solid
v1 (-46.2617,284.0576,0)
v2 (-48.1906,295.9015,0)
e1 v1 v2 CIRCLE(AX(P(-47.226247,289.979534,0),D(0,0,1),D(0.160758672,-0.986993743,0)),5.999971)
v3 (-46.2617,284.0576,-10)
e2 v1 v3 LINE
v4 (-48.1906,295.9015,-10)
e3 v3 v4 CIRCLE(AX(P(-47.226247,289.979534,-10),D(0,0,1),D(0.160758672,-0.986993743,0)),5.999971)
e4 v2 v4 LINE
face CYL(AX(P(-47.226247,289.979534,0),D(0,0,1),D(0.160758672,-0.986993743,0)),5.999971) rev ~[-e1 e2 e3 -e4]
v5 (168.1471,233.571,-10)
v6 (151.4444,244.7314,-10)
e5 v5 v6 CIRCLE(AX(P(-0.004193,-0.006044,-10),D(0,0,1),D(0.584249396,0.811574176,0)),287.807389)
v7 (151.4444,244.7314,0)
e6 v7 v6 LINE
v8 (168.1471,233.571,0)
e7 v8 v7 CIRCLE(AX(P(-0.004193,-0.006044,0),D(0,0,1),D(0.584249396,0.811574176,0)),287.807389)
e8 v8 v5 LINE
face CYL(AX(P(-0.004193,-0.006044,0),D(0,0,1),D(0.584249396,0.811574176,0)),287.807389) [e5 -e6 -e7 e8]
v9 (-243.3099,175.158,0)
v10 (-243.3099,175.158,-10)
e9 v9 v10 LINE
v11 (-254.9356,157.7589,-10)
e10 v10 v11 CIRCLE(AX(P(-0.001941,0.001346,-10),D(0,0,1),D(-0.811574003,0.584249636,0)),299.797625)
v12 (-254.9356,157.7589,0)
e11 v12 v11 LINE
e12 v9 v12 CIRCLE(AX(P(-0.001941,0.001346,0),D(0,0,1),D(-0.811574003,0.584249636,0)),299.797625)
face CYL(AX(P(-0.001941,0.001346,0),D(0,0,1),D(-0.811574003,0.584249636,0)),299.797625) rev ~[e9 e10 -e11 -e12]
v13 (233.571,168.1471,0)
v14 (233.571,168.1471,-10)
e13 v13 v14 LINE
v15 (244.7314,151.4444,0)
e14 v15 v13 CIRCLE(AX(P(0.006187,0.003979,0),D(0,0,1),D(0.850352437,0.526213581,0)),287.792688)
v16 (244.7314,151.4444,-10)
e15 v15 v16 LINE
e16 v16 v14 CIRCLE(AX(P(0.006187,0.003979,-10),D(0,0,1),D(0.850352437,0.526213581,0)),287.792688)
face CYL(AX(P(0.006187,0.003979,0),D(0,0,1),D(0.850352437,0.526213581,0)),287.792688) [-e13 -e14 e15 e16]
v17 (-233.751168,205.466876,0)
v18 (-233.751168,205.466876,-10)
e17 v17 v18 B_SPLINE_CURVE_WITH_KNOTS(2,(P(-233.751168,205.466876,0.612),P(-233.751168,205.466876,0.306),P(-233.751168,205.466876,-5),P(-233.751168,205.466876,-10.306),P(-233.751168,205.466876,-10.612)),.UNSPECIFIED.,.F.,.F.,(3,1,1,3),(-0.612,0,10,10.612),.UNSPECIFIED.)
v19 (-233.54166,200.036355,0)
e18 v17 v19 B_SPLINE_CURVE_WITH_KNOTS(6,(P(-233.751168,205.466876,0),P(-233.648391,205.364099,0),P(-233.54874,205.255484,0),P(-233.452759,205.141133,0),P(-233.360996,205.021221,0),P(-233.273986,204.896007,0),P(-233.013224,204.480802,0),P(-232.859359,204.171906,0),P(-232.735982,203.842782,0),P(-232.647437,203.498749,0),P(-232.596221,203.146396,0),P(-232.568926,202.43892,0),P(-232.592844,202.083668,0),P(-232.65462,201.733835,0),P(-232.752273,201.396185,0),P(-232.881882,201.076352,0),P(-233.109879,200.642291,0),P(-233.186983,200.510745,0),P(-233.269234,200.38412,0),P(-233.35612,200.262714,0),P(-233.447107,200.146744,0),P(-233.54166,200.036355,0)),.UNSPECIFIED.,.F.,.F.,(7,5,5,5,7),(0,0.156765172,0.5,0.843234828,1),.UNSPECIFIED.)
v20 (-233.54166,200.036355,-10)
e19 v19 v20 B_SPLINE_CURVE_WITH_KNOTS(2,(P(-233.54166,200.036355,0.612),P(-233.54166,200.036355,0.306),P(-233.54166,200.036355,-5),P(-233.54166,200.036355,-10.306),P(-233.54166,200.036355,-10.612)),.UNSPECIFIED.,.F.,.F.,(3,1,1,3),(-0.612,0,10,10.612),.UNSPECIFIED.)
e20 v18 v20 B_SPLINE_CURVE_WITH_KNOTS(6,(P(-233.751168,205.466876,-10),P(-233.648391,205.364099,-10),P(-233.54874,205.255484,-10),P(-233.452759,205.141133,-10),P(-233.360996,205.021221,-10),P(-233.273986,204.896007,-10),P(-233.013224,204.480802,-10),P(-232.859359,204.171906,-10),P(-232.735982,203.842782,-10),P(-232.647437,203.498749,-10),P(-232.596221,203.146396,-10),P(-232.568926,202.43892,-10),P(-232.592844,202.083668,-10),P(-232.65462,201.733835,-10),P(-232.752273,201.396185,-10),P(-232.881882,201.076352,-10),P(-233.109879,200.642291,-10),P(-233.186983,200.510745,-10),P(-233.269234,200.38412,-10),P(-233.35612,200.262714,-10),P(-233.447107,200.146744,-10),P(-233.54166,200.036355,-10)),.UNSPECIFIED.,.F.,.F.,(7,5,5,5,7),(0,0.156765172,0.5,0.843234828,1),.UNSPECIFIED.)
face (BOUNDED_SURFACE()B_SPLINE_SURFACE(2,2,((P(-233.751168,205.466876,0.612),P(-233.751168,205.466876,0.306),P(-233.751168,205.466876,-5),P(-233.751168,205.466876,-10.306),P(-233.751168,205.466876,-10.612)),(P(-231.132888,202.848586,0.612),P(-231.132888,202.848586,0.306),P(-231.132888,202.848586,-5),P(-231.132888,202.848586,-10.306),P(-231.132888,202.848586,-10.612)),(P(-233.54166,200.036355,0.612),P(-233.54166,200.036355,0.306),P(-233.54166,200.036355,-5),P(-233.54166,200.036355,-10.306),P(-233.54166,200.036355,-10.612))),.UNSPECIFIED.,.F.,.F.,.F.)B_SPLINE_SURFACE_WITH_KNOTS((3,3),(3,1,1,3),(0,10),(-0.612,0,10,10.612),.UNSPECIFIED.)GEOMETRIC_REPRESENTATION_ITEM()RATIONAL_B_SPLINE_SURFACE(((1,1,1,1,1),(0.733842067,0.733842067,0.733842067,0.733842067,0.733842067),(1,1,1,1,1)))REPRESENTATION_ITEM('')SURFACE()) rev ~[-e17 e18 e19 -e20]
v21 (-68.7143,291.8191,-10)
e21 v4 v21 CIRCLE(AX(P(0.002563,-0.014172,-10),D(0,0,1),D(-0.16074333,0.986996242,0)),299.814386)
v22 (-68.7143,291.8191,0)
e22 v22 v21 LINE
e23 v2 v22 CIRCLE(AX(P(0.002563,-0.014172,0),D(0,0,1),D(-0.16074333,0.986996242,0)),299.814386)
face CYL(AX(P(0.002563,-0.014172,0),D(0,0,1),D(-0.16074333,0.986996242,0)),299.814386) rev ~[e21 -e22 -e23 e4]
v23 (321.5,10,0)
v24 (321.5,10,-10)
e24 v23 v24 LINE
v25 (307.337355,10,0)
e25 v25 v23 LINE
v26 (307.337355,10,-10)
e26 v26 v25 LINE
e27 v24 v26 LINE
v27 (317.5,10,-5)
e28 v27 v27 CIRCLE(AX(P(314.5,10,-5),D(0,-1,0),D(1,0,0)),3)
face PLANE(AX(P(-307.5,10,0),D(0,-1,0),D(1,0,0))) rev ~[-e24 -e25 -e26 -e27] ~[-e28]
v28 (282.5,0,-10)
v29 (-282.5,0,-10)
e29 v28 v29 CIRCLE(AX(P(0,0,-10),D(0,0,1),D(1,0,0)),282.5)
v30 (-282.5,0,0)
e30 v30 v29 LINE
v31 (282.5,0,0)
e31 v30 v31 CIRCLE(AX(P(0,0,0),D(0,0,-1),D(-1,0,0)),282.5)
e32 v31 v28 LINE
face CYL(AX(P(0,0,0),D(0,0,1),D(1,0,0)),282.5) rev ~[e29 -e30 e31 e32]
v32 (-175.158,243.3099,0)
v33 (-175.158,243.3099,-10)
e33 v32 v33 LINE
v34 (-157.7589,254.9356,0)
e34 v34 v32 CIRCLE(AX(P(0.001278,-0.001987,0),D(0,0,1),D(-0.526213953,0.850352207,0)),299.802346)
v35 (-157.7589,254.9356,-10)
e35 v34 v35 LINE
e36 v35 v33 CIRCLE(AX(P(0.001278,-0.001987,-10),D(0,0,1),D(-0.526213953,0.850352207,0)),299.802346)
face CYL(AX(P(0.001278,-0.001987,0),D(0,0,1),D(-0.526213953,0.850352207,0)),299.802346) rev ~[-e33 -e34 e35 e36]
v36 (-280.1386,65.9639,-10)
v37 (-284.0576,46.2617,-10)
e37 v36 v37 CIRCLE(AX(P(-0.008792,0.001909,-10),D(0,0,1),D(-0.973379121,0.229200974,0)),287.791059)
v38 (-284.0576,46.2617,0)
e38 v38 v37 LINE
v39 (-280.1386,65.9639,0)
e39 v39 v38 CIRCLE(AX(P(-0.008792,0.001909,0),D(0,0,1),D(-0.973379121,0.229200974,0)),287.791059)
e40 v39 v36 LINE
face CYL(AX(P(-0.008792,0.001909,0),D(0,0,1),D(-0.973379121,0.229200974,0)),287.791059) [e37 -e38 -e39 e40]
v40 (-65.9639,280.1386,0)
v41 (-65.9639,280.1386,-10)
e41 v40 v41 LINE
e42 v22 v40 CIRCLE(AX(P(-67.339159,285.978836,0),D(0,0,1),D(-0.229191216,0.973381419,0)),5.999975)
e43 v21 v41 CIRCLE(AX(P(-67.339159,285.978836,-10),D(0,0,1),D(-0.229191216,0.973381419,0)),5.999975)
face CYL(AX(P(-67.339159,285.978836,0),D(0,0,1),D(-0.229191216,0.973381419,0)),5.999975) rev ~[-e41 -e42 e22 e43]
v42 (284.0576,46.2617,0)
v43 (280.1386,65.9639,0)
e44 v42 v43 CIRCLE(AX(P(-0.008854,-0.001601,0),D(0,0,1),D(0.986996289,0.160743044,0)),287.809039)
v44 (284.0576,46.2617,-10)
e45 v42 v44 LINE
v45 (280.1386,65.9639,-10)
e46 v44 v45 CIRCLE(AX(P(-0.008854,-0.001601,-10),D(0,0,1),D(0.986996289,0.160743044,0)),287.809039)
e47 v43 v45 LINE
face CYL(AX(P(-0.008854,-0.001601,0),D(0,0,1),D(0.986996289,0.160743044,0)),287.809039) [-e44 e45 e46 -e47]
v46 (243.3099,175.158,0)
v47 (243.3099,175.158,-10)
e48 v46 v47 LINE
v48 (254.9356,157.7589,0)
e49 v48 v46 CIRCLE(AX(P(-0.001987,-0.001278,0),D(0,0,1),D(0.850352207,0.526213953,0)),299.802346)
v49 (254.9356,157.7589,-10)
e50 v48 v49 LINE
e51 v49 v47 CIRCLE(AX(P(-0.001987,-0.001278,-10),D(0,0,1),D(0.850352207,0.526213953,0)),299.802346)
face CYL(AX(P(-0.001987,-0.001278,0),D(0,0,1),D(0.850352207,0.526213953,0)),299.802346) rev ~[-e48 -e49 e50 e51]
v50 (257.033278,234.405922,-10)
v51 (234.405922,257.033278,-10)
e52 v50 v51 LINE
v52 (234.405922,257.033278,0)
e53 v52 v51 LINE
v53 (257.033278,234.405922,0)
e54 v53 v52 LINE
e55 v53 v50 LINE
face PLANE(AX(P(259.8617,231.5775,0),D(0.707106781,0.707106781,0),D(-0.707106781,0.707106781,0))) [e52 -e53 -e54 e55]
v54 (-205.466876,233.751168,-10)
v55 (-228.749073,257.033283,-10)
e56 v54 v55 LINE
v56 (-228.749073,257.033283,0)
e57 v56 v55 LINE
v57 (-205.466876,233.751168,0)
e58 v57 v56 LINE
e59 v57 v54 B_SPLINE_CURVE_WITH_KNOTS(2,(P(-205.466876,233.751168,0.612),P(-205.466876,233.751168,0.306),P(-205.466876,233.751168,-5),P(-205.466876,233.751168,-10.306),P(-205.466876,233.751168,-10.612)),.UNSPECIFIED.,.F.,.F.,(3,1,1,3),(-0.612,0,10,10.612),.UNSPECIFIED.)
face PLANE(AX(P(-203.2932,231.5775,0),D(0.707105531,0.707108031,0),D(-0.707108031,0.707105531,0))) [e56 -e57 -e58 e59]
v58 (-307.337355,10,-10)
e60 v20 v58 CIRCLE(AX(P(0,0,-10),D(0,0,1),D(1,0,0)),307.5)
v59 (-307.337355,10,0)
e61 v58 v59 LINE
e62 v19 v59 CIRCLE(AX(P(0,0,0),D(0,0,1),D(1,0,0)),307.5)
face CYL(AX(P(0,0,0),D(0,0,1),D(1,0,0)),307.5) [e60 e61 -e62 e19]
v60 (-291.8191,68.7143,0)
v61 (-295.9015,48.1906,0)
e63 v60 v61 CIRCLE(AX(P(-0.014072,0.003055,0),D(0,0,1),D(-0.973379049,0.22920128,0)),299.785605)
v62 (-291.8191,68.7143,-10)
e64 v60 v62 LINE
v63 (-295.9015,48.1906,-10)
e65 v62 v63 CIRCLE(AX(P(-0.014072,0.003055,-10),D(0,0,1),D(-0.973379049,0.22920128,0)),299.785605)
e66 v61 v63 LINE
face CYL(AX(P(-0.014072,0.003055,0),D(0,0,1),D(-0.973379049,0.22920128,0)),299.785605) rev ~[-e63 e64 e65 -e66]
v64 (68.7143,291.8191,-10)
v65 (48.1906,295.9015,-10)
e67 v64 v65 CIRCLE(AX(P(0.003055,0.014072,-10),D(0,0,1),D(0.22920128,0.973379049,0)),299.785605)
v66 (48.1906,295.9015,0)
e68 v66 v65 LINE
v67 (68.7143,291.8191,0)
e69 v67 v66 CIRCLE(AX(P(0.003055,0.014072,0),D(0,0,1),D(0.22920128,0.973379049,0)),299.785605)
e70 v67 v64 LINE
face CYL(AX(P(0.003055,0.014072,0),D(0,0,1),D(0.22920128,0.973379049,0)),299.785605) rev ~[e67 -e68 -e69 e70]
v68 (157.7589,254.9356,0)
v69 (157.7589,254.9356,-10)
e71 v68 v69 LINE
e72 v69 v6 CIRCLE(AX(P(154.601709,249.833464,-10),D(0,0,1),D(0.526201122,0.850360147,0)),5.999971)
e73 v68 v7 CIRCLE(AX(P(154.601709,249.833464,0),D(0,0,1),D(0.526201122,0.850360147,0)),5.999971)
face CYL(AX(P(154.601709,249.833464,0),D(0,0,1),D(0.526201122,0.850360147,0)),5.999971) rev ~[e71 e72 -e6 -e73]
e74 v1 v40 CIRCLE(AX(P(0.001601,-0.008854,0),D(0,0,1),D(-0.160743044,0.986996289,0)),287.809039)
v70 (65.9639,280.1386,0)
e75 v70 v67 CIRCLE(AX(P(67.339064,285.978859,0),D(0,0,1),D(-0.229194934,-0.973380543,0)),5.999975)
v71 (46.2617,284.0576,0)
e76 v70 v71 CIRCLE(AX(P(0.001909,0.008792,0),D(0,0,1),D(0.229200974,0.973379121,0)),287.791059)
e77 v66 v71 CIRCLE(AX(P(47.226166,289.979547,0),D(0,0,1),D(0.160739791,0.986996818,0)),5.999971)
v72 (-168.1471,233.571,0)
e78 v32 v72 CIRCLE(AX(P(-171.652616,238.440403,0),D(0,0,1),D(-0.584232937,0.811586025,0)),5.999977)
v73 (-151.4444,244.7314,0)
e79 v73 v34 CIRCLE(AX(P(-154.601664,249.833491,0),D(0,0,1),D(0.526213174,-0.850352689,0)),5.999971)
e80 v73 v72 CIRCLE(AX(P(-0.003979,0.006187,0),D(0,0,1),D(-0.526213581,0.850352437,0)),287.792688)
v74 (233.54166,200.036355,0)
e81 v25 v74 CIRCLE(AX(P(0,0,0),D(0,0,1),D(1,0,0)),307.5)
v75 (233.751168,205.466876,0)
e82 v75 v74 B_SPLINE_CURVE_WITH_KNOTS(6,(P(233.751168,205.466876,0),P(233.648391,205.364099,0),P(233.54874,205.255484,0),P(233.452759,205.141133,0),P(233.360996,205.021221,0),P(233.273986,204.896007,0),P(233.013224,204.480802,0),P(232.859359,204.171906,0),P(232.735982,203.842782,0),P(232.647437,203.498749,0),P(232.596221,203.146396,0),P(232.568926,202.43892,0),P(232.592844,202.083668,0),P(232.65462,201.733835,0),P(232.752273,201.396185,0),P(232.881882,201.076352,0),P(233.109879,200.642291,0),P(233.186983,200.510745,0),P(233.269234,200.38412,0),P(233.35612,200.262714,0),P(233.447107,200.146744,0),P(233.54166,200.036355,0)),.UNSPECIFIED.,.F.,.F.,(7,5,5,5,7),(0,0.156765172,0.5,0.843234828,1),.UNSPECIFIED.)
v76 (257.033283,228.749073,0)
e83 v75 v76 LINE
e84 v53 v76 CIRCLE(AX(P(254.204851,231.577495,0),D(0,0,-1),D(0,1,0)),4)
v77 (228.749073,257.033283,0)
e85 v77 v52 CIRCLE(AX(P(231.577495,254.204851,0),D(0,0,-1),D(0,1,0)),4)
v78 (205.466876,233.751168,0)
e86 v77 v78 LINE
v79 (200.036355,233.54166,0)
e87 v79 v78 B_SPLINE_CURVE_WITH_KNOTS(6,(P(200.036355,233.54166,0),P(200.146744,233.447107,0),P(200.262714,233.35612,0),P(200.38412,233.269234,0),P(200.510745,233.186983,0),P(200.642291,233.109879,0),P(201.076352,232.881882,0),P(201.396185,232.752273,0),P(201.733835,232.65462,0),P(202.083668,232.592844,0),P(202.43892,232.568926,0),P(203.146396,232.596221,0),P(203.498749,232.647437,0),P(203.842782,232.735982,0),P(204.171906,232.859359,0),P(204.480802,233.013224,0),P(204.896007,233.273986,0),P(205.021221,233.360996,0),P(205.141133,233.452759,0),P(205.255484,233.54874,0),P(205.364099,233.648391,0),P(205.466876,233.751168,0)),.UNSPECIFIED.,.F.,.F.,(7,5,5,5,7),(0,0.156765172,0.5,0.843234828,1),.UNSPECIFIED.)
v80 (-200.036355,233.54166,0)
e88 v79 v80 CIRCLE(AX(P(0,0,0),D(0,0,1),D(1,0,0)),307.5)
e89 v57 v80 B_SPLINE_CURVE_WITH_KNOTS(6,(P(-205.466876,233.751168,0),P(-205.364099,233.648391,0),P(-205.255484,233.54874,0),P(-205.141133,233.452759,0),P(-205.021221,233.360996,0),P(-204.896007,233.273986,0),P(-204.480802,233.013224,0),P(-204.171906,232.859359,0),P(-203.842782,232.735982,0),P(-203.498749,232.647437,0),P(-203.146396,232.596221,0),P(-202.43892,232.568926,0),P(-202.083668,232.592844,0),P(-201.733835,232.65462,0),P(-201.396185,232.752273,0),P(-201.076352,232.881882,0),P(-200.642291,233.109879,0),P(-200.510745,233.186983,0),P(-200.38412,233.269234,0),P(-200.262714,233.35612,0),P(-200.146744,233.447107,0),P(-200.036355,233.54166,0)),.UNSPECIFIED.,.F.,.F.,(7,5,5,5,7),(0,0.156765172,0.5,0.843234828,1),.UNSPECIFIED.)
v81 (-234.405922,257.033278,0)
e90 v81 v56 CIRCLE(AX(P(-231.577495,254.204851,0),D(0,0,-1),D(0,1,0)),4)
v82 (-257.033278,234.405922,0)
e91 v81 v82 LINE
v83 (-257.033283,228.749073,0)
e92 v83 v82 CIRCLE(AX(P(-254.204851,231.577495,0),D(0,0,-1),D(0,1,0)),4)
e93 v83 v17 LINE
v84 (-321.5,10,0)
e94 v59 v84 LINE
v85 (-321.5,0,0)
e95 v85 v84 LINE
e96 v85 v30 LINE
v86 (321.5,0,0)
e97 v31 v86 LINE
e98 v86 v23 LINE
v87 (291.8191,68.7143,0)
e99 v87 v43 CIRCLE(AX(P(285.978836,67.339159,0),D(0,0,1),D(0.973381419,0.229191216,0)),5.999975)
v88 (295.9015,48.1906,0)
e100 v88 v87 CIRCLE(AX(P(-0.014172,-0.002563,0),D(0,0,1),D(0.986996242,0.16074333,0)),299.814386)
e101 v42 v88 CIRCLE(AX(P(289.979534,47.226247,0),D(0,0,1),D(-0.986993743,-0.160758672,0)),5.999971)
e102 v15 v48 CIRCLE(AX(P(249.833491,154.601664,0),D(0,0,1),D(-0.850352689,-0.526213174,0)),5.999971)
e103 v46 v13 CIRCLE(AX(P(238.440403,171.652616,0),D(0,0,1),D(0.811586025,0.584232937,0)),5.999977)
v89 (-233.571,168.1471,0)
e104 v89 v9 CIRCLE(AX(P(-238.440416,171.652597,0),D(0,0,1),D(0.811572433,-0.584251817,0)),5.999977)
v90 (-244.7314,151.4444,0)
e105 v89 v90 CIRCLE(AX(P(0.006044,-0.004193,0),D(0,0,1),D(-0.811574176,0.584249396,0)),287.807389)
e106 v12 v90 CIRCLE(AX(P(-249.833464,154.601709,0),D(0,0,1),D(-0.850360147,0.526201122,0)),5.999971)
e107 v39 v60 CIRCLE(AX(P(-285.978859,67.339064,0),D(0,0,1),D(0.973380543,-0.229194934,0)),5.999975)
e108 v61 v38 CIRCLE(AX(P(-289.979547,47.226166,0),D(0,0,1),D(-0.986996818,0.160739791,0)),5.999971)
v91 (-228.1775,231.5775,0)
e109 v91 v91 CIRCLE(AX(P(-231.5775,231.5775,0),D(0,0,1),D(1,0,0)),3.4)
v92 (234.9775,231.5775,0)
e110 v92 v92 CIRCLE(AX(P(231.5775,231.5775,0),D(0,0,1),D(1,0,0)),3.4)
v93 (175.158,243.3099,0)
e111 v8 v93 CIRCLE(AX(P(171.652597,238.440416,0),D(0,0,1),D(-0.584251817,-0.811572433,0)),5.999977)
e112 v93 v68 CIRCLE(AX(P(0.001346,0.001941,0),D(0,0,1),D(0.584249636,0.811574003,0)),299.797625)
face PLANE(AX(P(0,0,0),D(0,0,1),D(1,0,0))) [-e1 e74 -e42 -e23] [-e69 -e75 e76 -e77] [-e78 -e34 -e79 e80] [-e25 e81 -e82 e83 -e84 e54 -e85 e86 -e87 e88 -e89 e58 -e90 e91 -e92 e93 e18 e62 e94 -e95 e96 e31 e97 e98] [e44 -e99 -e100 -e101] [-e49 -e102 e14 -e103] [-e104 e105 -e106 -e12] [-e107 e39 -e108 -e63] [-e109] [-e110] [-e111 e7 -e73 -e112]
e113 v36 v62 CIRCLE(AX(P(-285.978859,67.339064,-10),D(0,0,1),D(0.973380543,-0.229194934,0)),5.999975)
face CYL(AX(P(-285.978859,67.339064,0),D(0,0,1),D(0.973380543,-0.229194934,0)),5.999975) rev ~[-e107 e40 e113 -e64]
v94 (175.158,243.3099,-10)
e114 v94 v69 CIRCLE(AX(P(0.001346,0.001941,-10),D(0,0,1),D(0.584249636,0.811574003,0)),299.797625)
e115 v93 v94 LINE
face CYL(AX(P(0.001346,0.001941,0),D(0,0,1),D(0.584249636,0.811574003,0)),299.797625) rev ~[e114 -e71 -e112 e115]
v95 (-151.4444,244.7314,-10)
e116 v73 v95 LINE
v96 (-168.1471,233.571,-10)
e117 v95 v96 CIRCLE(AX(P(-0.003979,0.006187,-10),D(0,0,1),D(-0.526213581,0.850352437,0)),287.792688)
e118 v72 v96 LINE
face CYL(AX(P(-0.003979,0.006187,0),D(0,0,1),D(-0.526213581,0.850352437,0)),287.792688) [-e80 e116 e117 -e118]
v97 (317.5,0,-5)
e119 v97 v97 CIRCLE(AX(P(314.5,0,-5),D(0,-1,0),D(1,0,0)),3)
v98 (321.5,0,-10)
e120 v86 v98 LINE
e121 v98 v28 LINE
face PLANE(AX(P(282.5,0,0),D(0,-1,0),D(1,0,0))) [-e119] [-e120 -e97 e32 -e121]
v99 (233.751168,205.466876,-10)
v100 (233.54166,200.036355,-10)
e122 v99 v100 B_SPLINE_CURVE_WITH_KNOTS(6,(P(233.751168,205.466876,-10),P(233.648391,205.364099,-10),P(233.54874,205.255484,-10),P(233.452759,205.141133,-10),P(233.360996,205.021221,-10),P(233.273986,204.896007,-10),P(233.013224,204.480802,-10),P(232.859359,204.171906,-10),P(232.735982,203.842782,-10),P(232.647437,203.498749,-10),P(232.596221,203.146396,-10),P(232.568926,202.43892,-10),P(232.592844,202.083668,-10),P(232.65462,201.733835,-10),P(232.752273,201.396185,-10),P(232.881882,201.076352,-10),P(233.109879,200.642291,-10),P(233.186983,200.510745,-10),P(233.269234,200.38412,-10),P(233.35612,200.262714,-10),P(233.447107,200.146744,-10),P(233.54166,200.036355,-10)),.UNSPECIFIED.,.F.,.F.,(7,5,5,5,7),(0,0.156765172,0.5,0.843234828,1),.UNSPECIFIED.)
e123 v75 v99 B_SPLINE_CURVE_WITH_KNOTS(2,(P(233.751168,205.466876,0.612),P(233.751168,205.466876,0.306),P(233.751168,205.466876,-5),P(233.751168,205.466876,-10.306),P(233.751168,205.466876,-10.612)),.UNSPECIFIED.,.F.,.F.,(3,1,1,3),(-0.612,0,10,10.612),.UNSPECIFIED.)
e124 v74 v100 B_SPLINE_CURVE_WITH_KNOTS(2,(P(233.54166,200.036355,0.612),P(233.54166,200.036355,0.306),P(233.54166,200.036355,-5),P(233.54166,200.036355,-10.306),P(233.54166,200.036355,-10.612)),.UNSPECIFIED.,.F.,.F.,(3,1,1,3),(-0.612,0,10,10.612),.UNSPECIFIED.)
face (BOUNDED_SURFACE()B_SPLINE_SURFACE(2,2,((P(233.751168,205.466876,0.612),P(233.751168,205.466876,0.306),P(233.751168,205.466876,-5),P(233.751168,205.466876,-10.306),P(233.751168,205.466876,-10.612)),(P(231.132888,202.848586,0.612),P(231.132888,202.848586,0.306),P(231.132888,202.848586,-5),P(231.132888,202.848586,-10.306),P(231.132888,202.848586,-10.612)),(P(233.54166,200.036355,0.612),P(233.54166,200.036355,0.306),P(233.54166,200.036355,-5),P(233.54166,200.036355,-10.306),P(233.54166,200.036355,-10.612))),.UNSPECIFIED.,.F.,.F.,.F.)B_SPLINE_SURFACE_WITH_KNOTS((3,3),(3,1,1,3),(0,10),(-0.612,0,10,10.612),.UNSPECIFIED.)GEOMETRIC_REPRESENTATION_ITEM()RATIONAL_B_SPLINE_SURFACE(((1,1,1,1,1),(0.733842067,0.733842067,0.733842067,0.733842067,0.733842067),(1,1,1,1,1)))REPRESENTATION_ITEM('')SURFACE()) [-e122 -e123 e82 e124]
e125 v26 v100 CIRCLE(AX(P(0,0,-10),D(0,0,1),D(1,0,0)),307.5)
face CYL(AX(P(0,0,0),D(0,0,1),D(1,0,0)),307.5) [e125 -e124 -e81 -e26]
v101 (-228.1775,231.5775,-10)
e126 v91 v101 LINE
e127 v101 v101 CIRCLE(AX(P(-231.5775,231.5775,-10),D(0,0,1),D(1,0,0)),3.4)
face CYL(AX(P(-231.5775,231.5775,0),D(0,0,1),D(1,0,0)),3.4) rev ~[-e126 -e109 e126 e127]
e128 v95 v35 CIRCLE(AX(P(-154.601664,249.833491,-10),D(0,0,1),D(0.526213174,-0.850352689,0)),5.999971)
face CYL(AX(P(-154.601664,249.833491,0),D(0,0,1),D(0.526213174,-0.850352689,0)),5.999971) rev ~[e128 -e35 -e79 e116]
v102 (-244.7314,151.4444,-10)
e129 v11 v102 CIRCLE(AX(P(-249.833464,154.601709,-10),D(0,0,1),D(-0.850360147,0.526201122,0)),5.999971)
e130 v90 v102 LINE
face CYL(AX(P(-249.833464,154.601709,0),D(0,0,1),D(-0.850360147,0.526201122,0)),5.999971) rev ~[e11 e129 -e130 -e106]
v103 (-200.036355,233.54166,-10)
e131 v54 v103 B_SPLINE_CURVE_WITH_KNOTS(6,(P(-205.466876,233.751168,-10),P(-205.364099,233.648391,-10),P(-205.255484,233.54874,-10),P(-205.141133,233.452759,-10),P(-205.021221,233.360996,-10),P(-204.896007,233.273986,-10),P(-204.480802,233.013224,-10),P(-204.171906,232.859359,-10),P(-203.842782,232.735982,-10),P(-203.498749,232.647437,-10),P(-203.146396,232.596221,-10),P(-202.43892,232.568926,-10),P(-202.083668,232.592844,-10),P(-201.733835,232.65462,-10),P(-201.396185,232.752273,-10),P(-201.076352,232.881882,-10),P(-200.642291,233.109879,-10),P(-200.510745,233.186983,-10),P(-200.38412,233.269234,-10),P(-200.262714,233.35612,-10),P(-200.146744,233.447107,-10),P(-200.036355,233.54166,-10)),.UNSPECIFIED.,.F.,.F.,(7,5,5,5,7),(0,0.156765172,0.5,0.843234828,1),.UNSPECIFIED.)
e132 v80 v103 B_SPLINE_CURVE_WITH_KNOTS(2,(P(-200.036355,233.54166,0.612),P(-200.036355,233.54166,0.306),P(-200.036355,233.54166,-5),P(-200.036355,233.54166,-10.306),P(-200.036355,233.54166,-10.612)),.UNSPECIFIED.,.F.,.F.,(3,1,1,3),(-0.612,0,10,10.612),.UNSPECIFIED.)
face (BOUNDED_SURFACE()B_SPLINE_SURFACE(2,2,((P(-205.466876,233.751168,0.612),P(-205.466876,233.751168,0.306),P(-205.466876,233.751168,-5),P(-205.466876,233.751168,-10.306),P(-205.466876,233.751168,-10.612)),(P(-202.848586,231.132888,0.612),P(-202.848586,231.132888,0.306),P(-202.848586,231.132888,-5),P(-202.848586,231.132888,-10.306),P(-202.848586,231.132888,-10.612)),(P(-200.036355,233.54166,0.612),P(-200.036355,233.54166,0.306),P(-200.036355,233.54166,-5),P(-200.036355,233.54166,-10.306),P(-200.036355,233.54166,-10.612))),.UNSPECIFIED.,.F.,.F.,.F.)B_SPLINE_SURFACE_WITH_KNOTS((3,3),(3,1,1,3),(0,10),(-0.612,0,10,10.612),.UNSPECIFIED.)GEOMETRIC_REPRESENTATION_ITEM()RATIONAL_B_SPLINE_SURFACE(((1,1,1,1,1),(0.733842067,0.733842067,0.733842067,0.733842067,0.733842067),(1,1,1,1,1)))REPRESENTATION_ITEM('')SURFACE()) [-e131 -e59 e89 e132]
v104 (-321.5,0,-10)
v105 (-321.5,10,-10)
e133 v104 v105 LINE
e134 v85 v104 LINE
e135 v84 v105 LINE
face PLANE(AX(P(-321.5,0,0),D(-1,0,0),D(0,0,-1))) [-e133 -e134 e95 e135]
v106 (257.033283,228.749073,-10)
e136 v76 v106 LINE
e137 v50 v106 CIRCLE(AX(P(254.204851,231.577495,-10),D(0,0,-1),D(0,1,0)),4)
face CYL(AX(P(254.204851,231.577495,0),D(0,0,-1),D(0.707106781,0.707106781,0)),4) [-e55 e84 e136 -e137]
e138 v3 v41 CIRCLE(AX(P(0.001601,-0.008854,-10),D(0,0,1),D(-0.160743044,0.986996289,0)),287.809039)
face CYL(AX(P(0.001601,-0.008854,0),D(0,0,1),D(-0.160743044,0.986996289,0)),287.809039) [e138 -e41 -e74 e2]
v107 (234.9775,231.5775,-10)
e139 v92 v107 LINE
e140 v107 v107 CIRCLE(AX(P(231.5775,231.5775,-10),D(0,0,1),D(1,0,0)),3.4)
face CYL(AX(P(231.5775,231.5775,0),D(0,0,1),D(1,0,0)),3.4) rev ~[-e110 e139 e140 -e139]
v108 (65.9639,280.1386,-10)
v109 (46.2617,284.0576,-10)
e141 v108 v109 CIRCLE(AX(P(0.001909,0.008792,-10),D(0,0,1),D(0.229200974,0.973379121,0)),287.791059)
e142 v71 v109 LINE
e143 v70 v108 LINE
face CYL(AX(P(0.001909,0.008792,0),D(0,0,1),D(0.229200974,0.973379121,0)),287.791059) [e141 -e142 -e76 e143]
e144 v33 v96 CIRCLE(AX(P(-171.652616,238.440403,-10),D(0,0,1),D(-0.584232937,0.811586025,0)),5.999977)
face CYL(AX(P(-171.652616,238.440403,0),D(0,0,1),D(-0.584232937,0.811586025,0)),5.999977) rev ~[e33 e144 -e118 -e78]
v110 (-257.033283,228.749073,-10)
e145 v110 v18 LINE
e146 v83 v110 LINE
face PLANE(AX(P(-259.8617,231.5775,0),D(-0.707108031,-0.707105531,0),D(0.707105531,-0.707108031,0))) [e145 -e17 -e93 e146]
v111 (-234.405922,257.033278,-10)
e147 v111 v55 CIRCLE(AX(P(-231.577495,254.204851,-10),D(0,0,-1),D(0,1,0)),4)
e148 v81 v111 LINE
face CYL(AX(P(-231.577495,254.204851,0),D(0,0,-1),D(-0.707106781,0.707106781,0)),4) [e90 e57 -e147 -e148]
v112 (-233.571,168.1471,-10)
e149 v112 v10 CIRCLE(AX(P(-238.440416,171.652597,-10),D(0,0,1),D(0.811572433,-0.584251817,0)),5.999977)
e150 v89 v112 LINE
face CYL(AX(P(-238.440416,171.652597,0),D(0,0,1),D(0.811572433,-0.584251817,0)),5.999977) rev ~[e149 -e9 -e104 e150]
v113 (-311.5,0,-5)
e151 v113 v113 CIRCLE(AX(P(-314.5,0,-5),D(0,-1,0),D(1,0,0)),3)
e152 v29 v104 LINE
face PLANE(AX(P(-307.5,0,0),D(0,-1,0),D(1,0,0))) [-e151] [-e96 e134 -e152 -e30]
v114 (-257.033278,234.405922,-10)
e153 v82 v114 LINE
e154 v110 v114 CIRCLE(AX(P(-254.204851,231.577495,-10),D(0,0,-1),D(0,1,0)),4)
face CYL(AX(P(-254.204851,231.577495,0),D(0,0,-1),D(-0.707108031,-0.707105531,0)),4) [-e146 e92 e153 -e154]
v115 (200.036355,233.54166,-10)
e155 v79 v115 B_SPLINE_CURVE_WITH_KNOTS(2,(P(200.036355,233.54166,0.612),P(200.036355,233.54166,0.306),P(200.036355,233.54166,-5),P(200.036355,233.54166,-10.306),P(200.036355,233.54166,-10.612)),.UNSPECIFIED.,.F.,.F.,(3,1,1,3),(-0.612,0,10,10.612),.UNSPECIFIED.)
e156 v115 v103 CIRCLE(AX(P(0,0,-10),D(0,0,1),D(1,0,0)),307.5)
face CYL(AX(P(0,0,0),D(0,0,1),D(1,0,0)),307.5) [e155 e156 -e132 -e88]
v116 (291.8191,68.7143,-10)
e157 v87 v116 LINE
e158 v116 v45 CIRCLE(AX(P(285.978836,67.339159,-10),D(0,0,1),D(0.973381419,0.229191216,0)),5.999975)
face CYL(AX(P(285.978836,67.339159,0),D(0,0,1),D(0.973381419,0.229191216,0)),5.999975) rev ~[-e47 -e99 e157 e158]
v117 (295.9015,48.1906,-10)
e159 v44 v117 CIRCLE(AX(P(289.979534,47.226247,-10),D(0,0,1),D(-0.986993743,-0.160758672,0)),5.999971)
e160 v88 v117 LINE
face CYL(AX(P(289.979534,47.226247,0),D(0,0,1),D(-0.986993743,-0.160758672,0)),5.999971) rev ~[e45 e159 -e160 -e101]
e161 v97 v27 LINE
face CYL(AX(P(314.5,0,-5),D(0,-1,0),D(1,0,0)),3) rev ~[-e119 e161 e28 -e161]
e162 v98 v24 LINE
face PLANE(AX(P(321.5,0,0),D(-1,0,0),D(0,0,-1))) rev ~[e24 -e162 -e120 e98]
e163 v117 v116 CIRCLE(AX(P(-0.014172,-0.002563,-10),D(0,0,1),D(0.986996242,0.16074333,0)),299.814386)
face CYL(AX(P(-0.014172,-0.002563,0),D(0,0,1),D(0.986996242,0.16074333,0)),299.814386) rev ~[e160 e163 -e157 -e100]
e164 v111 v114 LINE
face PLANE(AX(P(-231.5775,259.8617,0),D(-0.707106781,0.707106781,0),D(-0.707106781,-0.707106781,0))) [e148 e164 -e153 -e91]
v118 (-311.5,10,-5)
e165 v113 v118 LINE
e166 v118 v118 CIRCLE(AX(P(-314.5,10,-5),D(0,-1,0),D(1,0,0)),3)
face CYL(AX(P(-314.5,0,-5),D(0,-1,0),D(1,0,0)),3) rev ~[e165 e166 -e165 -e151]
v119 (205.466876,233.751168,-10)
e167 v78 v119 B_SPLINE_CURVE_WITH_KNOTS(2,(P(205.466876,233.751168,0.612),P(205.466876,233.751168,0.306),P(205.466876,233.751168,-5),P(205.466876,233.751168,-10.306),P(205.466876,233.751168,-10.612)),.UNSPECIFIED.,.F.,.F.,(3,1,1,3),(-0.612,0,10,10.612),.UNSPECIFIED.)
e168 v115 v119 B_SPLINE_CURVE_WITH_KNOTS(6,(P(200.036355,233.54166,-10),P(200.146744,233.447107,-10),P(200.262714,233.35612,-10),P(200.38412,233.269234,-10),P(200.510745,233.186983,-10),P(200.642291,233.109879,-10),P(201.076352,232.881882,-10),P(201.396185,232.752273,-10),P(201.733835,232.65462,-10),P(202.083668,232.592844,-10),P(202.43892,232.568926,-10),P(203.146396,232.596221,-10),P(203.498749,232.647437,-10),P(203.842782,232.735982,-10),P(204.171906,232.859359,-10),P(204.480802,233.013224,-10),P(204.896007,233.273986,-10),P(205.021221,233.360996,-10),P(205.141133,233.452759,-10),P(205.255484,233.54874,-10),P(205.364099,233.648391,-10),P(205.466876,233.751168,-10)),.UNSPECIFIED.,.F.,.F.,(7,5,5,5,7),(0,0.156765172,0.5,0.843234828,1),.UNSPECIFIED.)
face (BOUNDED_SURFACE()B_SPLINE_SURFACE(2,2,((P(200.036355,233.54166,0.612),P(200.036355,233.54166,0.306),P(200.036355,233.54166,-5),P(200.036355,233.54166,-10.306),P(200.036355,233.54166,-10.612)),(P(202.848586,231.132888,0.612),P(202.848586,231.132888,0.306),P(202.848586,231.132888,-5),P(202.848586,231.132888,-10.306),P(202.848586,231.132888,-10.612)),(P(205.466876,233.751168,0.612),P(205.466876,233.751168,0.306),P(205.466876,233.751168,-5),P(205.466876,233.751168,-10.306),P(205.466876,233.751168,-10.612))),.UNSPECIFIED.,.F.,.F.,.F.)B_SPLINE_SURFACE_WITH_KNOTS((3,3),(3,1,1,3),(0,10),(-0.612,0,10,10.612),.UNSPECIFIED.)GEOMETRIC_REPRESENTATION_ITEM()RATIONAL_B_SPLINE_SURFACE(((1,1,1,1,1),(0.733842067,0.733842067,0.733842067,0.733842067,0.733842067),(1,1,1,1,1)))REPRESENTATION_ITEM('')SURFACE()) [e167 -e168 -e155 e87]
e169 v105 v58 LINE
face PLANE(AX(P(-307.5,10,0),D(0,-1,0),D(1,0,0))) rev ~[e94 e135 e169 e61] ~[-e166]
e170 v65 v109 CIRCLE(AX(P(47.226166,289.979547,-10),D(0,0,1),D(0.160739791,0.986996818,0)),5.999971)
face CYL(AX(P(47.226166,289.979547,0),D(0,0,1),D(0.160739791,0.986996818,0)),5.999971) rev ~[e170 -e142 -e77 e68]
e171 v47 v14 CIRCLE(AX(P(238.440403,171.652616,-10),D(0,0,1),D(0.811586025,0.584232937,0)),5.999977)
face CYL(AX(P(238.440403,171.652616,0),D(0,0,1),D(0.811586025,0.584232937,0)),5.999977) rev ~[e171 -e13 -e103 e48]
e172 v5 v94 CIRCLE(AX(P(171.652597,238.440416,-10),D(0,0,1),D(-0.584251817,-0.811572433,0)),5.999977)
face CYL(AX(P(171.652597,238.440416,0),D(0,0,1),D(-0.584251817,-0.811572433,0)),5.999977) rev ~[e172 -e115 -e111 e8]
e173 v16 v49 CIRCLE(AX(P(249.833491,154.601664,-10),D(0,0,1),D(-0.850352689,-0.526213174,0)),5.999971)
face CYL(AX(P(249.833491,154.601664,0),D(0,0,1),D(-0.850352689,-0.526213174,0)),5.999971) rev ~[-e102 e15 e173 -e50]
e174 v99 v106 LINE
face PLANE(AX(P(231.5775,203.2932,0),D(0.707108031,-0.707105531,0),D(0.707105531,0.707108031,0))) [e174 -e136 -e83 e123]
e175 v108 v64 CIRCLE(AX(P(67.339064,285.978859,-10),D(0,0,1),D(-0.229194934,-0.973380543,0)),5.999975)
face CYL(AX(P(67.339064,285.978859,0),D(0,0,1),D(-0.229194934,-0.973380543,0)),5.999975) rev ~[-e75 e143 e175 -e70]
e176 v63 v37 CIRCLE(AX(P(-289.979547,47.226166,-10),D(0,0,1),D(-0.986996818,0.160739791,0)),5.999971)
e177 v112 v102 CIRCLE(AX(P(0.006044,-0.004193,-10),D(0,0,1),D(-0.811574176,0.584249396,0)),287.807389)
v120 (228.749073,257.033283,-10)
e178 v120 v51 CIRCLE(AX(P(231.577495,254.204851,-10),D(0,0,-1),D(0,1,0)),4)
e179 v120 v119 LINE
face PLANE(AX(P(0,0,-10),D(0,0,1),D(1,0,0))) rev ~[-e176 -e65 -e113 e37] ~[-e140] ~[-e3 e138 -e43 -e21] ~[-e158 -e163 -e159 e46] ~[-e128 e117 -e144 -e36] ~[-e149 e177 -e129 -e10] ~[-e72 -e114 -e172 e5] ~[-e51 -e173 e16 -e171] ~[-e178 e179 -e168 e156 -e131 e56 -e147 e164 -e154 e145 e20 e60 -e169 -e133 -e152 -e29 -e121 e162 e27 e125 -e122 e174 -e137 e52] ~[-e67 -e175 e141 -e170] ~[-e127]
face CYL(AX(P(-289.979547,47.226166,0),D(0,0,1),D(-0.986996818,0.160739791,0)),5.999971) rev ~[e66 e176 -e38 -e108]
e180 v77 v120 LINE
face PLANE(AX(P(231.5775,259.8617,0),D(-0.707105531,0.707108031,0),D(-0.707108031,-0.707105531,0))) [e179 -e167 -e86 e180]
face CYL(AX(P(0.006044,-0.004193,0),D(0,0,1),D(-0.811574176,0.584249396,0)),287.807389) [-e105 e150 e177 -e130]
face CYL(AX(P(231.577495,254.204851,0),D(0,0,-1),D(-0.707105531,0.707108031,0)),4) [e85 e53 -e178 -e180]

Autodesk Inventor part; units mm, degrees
ref_plane "YZ Plane" through (0, 0, 0) normal (1, 0, 0) x (0, 1, 0)
ref_plane "XZ Plane" through (0, 0, 0) normal (0, 1, 0) x (-1, 0, 0)
ref_plane "XY Plane" through (0, 0, 0) normal (0, 0, 1) x (1, 0, 0)
sketch "Sketch7" plane through (0, 0, 0) normal (0, 0, 1) x (1, 0, 0)
  circle A0 centre (-231.5775, 231.5775) radius 3.4
  line L0 (-231.5775, 203.2932) -> (-203.2932, 231.5775)
  line L1 (-203.2932, 231.5775) -> (-231.5775, 259.8617)
  line L2 (-231.5775, 259.8617) -> (-259.8617, 231.5775)
  line L3 (-259.8617, 231.5775) -> (-231.5775, 203.2932)
  line L4 (-231.5775, 203.2932) -> (-231.5775, 259.8617) construction
  line L5 (-203.2932, 231.5775) -> (-259.8617, 231.5775) construction
  line L6 (-231.5775, 203.2932) -> (-191.5775, 203.2932) construction
  arc A1 (289.9795, 47.2262) -> (285.9788, 67.3391) centre (0, 0) ccw construction
  arc A2 (295.9015, 48.1906) -> (291.8191, 68.7143) centre (0, 0) ccw
  arc A3 (284.0576, 46.2617) -> (280.1386, 65.9639) centre (0, 0) ccw
  arc A4 (284.0576, 46.2617) -> (295.9015, 48.1906) centre (289.9795, 47.2262) ccw
  arc A5 (291.8191, 68.7143) -> (280.1386, 65.9639) centre (285.9788, 67.3391) ccw
  line L7 (0, 0) -> (289.9795, 47.2262) construction
  line L8 (0, 0) -> (293.8, 0) construction
  line L9 (0, 0) -> (285.9788, 67.3391) construction
  circle A6 centre (0, 0) radius 307.5
  circle A7 centre (0, 0) radius 282.5
  line L10 (-203.2932, 231.5775) -> (-185.1143, 213.3986)
  line L11 (-231.5775, 203.2932) -> (-213.3986, 185.1143)
  line L12 (-307.5, 0) -> (0, 0)
  line L13 (0, 0) -> (307.5, 0)
  line L14 (-231.5775, -203.2932) -> (-259.8617, -231.5775)
  line L15 (-259.8617, -231.5775) -> (-231.5775, -259.8617)
  circle A8 centre (-231.5775, -231.5775) radius 3.4
  line L16 (-231.5775, -259.8617) -> (-203.2932, -231.5775)
  line L17 (-203.2932, -231.5775) -> (-231.5775, -203.2932)
  line L18 (-203.2932, -231.5775) -> (-185.1143, -213.3986)
  line L19 (-231.5775, -203.2932) -> (-213.3986, -185.1143)
  line L20 (203.2932, -231.5775) -> (231.5775, -259.8617)
  line L21 (231.5775, -259.8617) -> (259.8617, -231.5775)
  circle A9 centre (231.5775, -231.5775) radius 3.4
  line L22 (259.8617, -231.5775) -> (231.5775, -203.2932)
  line L23 (231.5775, -203.2932) -> (203.2932, -231.5775)
  line L24 (231.5775, -203.2932) -> (213.3986, -185.1143)
  line L25 (203.2932, -231.5775) -> (185.1143, -213.3986)
  line L26 (231.5775, 203.2932) -> (259.8617, 231.5775)
  line L27 (259.8617, 231.5775) -> (231.5775, 259.8617)
  circle A10 centre (231.5775, 231.5775) radius 3.4
  line L28 (231.5775, 259.8617) -> (203.2932, 231.5775)
  line L29 (203.2932, 231.5775) -> (231.5775, 203.2932)
  line L30 (203.2932, 231.5775) -> (185.1143, 213.3986)
  line L31 (231.5775, 203.2932) -> (213.3986, 185.1143)
  arc A11 (254.9356, 157.7589) -> (243.3099, 175.158) centre (0, 0) ccw
  arc A12 (243.3099, 175.158) -> (233.571, 168.1471) centre (238.4404, 171.6526) ccw
  arc A13 (244.7314, 151.4444) -> (233.571, 168.1471) centre (0, 0) ccw
  arc A14 (244.7314, 151.4444) -> (254.9356, 157.7589) centre (249.8335, 154.6017) ccw
  arc A15 (175.158, 243.3099) -> (157.7589, 254.9356) centre (0, 0) ccw
  arc A16 (157.7589, 254.9356) -> (151.4444, 244.7314) centre (154.6017, 249.8335) ccw
  arc A17 (168.1471, 233.571) -> (151.4444, 244.7314) centre (0, 0) ccw
  arc A18 (168.1471, 233.571) -> (175.158, 243.3099) centre (171.6526, 238.4404) ccw
  arc A19 (68.7143, 291.8191) -> (48.1906, 295.9015) centre (0, 0) ccw
  arc A20 (48.1906, 295.9015) -> (46.2617, 284.0576) centre (47.2262, 289.9795) ccw
  arc A21 (65.9639, 280.1386) -> (46.2617, 284.0576) centre (0, 0) ccw
  arc A22 (65.9639, 280.1386) -> (68.7143, 291.8191) centre (67.3391, 285.9788) ccw
  arc A23 (-48.1906, 295.9015) -> (-68.7143, 291.8191) centre (0, 0) ccw
  arc A24 (-68.7143, 291.8191) -> (-65.9639, 280.1386) centre (-67.3391, 285.9788) ccw
  arc A25 (-46.2617, 284.0576) -> (-65.9639, 280.1386) centre (0, 0) ccw
  arc A26 (-46.2617, 284.0576) -> (-48.1906, 295.9015) centre (-47.2262, 289.9795) ccw
  arc A27 (-157.7589, 254.9356) -> (-175.158, 243.3099) centre (0, 0) ccw
  arc A28 (-175.158, 243.3099) -> (-168.1471, 233.571) centre (-171.6526, 238.4404) ccw
  arc A29 (-151.4444, 244.7314) -> (-168.1471, 233.571) centre (0, 0) ccw
  arc A30 (-151.4444, 244.7314) -> (-157.7589, 254.9356) centre (-154.6017, 249.8335) ccw
  arc A31 (-243.3099, 175.158) -> (-254.9356, 157.7589) centre (0, 0) ccw
  arc A32 (-254.9356, 157.7589) -> (-244.7314, 151.4444) centre (-249.8335, 154.6017) ccw
  arc A33 (-233.571, 168.1471) -> (-244.7314, 151.4444) centre (0, 0) ccw
  arc A34 (-233.571, 168.1471) -> (-243.3099, 175.158) centre (-238.4404, 171.6526) ccw
  arc A35 (-291.8191, 68.7143) -> (-295.9015, 48.1906) centre (0, 0) ccw
  arc A36 (-295.9015, 48.1906) -> (-284.0576, 46.2617) centre (-289.9795, 47.2262) ccw
  arc A37 (-280.1386, 65.9639) -> (-284.0576, 46.2617) centre (0, 0) ccw
  arc A38 (-280.1386, 65.9639) -> (-291.8191, 68.7143) centre (-285.9788, 67.3391) ccw
  arc A39 (-295.9015, -48.1906) -> (-291.8191, -68.7143) centre (0, 0) ccw
  arc A40 (-291.8191, -68.7143) -> (-280.1386, -65.9639) centre (-285.9788, -67.3391) ccw
  arc A41 (-284.0576, -46.2617) -> (-280.1386, -65.9639) centre (0, 0) ccw
  arc A42 (-284.0576, -46.2617) -> (-295.9015, -48.1906) centre (-289.9795, -47.2262) ccw
  arc A43 (-254.9356, -157.7589) -> (-243.3099, -175.158) centre (0, 0) ccw
  arc A44 (-243.3099, -175.158) -> (-233.571, -168.1471) centre (-238.4404, -171.6526) ccw
  arc A45 (-244.7314, -151.4444) -> (-233.571, -168.1471) centre (0, 0) ccw
  arc A46 (-244.7314, -151.4444) -> (-254.9356, -157.7589) centre (-249.8335, -154.6017) ccw
  arc A47 (-175.158, -243.3099) -> (-157.7589, -254.9356) centre (0, 0) ccw
  arc A48 (-157.7589, -254.9356) -> (-151.4444, -244.7314) centre (-154.6017, -249.8335) ccw
  arc A49 (-168.1471, -233.571) -> (-151.4444, -244.7314) centre (0, 0) ccw
  arc A50 (-168.1471, -233.571) -> (-175.158, -243.3099) centre (-171.6526, -238.4404) ccw
  arc A51 (-68.7143, -291.8191) -> (-48.1906, -295.9015) centre (0, 0) ccw
  arc A52 (-48.1906, -295.9015) -> (-46.2617, -284.0576) centre (-47.2262, -289.9795) ccw
  arc A53 (-65.9639, -280.1386) -> (-46.2617, -284.0576) centre (0, 0) ccw
  arc A54 (-65.9639, -280.1386) -> (-68.7143, -291.8191) centre (-67.3391, -285.9788) ccw
  arc A55 (48.1906, -295.9015) -> (68.7143, -291.8191) centre (0, 0) ccw
  arc A56 (68.7143, -291.8191) -> (65.9639, -280.1386) centre (67.3391, -285.9788) ccw
  arc A57 (46.2617, -284.0576) -> (65.9639, -280.1386) centre (0, 0) ccw
  arc A58 (46.2617, -284.0576) -> (48.1906, -295.9015) centre (47.2262, -289.9795) ccw
  arc A59 (157.7589, -254.9356) -> (175.158, -243.3099) centre (0, 0) ccw
  arc A60 (175.158, -243.3099) -> (168.1471, -233.571) centre (171.6526, -238.4404) ccw
  arc A61 (151.4444, -244.7314) -> (168.1471, -233.571) centre (0, 0) ccw
  arc A62 (151.4444, -244.7314) -> (157.7589, -254.9356) centre (154.6017, -249.8335) ccw
  arc A63 (243.3099, -175.158) -> (254.9356, -157.7589) centre (0, 0) ccw
  arc A64 (254.9356, -157.7589) -> (244.7314, -151.4444) centre (249.8335, -154.6017) ccw
  arc A65 (233.571, -168.1471) -> (244.7314, -151.4444) centre (0, 0) ccw
  arc A66 (233.571, -168.1471) -> (243.3099, -175.158) centre (238.4404, -171.6526) ccw
  arc A67 (291.8191, -68.7143) -> (295.9015, -48.1906) centre (0, 0) ccw
  arc A68 (295.9015, -48.1906) -> (284.0576, -46.2617) centre (289.9795, -47.2262) ccw
  arc A69 (280.1386, -65.9639) -> (284.0576, -46.2617) centre (0, 0) ccw
  arc A70 (280.1386, -65.9639) -> (291.8191, -68.7143) centre (285.9788, -67.3391) ccw
  point P0 (-202.8328, 231.1171)
  point P1 (-231.1171, 202.8328)
  point P2 (-282.5, 0)
  point P3 (282.5, 0)
  point P4 (231.1171, 202.8328)
  point P5 (202.8328, 231.1171)
  dimension "d131" = 6.8
  dimension "d132" = 231.5775
  dimension "d133" = 231.5775
  dimension "d135" = 45
  dimension "d137" = 40
  dimension "d138" = 40
  dimension "d144" = 293.8
  dimension "d145" = 9.25
  dimension "d146" = 4
  dimension "d147" = 12
  dimension "d148" = 615
  dimension "d149" = 565
  dimension "d152" = 360
  dimension "d156" = 360
extrude "Extrusion11" add sketch "Sketch7" against normal blind 10 contours L3 L2 L1 L0 | L0 A6 L11 | L0 L10 A6 | A6 L10 A7 L11 | L11 A7 L12 A6 | A6 L30 A7 L10 | L30 L29 A6 | A6 L31 A7 L30 | L29 L31 A6 | L29 L28 L27 L26 | A6 L13 A7 L31
sketch "Sketch8" plane through (-307.5, 0, 0) normal (0, -1, 0) x (1, 0, 0)
  line L0 (25, 0) -> (590, 0) projected
  line L1 (25, 0) -> (-14, 0)
  line L2 (-14, 0) -> (-14, -10)
  line L3 (-14, -10) -> (25, -10)
  line L4 (25, -10) -> (25, 0)
  circle A0 centre (-7, -5) radius 3
  line L5 (590, 0) -> (629, 0)
  line L6 (629, 0) -> (629, -10)
  line L7 (629, -10) -> (590, -10)
  line L8 (590, -10) -> (590, 0)
  circle A1 centre (622, -5) radius 3
  dimension "d160" = 39
  dimension "d161" = 10
  dimension "d162" = 6
  dimension "d163" = 5
  dimension "d164" = 7
  dimension "d165" = 39
  dimension "d166" = 10
  dimension "d167" = 6
  dimension "d168" = 7
  dimension "d169" = 5
extrude "Extrusion12" add sketch "Sketch8" against normal blind 10
fillet "Fillet4" radius 4 8 edges at (-231.1171, 202.8328, -5) (-259.8617, 231.5775, -5) (-202.8328, 231.1171, -5) (-231.5775, 259.8617, -5) (231.5775, 259.8617, -5) (259.8617, 231.5775, -5) (202.8328, 231.1171, -5) (231.1171, 202.8328, -5)
equation "\"bar_screw_hole_diam\" = 6.8"
equation "\"foot_length\" = 14"
equation "\"tube_rim_diam\" = 605"
equation "\"tube_inner_diam\" = 541"
equation "\"tube_outer_diam\" = 561"
equation "\"ring_delta\" = 2"
equation "\"bar_delta\" = 5"
equation "\"bar_circle_diam\" = 655"
equation "\"ring_inner_diam\" = 565"
equation "\"ring_outer_diam\" = 615"
equation "\"slot_angle\" = 9.25deg"
equation "\"slot_diam\" = 12"
equation "\"slots_circle_diam\" = 587.6"
equation "\"foot_screw_diam\" = 6"
equation "\"bar_fillet\" = 4"
properties part number "half_ring_1" material "Aluminum 6061"
